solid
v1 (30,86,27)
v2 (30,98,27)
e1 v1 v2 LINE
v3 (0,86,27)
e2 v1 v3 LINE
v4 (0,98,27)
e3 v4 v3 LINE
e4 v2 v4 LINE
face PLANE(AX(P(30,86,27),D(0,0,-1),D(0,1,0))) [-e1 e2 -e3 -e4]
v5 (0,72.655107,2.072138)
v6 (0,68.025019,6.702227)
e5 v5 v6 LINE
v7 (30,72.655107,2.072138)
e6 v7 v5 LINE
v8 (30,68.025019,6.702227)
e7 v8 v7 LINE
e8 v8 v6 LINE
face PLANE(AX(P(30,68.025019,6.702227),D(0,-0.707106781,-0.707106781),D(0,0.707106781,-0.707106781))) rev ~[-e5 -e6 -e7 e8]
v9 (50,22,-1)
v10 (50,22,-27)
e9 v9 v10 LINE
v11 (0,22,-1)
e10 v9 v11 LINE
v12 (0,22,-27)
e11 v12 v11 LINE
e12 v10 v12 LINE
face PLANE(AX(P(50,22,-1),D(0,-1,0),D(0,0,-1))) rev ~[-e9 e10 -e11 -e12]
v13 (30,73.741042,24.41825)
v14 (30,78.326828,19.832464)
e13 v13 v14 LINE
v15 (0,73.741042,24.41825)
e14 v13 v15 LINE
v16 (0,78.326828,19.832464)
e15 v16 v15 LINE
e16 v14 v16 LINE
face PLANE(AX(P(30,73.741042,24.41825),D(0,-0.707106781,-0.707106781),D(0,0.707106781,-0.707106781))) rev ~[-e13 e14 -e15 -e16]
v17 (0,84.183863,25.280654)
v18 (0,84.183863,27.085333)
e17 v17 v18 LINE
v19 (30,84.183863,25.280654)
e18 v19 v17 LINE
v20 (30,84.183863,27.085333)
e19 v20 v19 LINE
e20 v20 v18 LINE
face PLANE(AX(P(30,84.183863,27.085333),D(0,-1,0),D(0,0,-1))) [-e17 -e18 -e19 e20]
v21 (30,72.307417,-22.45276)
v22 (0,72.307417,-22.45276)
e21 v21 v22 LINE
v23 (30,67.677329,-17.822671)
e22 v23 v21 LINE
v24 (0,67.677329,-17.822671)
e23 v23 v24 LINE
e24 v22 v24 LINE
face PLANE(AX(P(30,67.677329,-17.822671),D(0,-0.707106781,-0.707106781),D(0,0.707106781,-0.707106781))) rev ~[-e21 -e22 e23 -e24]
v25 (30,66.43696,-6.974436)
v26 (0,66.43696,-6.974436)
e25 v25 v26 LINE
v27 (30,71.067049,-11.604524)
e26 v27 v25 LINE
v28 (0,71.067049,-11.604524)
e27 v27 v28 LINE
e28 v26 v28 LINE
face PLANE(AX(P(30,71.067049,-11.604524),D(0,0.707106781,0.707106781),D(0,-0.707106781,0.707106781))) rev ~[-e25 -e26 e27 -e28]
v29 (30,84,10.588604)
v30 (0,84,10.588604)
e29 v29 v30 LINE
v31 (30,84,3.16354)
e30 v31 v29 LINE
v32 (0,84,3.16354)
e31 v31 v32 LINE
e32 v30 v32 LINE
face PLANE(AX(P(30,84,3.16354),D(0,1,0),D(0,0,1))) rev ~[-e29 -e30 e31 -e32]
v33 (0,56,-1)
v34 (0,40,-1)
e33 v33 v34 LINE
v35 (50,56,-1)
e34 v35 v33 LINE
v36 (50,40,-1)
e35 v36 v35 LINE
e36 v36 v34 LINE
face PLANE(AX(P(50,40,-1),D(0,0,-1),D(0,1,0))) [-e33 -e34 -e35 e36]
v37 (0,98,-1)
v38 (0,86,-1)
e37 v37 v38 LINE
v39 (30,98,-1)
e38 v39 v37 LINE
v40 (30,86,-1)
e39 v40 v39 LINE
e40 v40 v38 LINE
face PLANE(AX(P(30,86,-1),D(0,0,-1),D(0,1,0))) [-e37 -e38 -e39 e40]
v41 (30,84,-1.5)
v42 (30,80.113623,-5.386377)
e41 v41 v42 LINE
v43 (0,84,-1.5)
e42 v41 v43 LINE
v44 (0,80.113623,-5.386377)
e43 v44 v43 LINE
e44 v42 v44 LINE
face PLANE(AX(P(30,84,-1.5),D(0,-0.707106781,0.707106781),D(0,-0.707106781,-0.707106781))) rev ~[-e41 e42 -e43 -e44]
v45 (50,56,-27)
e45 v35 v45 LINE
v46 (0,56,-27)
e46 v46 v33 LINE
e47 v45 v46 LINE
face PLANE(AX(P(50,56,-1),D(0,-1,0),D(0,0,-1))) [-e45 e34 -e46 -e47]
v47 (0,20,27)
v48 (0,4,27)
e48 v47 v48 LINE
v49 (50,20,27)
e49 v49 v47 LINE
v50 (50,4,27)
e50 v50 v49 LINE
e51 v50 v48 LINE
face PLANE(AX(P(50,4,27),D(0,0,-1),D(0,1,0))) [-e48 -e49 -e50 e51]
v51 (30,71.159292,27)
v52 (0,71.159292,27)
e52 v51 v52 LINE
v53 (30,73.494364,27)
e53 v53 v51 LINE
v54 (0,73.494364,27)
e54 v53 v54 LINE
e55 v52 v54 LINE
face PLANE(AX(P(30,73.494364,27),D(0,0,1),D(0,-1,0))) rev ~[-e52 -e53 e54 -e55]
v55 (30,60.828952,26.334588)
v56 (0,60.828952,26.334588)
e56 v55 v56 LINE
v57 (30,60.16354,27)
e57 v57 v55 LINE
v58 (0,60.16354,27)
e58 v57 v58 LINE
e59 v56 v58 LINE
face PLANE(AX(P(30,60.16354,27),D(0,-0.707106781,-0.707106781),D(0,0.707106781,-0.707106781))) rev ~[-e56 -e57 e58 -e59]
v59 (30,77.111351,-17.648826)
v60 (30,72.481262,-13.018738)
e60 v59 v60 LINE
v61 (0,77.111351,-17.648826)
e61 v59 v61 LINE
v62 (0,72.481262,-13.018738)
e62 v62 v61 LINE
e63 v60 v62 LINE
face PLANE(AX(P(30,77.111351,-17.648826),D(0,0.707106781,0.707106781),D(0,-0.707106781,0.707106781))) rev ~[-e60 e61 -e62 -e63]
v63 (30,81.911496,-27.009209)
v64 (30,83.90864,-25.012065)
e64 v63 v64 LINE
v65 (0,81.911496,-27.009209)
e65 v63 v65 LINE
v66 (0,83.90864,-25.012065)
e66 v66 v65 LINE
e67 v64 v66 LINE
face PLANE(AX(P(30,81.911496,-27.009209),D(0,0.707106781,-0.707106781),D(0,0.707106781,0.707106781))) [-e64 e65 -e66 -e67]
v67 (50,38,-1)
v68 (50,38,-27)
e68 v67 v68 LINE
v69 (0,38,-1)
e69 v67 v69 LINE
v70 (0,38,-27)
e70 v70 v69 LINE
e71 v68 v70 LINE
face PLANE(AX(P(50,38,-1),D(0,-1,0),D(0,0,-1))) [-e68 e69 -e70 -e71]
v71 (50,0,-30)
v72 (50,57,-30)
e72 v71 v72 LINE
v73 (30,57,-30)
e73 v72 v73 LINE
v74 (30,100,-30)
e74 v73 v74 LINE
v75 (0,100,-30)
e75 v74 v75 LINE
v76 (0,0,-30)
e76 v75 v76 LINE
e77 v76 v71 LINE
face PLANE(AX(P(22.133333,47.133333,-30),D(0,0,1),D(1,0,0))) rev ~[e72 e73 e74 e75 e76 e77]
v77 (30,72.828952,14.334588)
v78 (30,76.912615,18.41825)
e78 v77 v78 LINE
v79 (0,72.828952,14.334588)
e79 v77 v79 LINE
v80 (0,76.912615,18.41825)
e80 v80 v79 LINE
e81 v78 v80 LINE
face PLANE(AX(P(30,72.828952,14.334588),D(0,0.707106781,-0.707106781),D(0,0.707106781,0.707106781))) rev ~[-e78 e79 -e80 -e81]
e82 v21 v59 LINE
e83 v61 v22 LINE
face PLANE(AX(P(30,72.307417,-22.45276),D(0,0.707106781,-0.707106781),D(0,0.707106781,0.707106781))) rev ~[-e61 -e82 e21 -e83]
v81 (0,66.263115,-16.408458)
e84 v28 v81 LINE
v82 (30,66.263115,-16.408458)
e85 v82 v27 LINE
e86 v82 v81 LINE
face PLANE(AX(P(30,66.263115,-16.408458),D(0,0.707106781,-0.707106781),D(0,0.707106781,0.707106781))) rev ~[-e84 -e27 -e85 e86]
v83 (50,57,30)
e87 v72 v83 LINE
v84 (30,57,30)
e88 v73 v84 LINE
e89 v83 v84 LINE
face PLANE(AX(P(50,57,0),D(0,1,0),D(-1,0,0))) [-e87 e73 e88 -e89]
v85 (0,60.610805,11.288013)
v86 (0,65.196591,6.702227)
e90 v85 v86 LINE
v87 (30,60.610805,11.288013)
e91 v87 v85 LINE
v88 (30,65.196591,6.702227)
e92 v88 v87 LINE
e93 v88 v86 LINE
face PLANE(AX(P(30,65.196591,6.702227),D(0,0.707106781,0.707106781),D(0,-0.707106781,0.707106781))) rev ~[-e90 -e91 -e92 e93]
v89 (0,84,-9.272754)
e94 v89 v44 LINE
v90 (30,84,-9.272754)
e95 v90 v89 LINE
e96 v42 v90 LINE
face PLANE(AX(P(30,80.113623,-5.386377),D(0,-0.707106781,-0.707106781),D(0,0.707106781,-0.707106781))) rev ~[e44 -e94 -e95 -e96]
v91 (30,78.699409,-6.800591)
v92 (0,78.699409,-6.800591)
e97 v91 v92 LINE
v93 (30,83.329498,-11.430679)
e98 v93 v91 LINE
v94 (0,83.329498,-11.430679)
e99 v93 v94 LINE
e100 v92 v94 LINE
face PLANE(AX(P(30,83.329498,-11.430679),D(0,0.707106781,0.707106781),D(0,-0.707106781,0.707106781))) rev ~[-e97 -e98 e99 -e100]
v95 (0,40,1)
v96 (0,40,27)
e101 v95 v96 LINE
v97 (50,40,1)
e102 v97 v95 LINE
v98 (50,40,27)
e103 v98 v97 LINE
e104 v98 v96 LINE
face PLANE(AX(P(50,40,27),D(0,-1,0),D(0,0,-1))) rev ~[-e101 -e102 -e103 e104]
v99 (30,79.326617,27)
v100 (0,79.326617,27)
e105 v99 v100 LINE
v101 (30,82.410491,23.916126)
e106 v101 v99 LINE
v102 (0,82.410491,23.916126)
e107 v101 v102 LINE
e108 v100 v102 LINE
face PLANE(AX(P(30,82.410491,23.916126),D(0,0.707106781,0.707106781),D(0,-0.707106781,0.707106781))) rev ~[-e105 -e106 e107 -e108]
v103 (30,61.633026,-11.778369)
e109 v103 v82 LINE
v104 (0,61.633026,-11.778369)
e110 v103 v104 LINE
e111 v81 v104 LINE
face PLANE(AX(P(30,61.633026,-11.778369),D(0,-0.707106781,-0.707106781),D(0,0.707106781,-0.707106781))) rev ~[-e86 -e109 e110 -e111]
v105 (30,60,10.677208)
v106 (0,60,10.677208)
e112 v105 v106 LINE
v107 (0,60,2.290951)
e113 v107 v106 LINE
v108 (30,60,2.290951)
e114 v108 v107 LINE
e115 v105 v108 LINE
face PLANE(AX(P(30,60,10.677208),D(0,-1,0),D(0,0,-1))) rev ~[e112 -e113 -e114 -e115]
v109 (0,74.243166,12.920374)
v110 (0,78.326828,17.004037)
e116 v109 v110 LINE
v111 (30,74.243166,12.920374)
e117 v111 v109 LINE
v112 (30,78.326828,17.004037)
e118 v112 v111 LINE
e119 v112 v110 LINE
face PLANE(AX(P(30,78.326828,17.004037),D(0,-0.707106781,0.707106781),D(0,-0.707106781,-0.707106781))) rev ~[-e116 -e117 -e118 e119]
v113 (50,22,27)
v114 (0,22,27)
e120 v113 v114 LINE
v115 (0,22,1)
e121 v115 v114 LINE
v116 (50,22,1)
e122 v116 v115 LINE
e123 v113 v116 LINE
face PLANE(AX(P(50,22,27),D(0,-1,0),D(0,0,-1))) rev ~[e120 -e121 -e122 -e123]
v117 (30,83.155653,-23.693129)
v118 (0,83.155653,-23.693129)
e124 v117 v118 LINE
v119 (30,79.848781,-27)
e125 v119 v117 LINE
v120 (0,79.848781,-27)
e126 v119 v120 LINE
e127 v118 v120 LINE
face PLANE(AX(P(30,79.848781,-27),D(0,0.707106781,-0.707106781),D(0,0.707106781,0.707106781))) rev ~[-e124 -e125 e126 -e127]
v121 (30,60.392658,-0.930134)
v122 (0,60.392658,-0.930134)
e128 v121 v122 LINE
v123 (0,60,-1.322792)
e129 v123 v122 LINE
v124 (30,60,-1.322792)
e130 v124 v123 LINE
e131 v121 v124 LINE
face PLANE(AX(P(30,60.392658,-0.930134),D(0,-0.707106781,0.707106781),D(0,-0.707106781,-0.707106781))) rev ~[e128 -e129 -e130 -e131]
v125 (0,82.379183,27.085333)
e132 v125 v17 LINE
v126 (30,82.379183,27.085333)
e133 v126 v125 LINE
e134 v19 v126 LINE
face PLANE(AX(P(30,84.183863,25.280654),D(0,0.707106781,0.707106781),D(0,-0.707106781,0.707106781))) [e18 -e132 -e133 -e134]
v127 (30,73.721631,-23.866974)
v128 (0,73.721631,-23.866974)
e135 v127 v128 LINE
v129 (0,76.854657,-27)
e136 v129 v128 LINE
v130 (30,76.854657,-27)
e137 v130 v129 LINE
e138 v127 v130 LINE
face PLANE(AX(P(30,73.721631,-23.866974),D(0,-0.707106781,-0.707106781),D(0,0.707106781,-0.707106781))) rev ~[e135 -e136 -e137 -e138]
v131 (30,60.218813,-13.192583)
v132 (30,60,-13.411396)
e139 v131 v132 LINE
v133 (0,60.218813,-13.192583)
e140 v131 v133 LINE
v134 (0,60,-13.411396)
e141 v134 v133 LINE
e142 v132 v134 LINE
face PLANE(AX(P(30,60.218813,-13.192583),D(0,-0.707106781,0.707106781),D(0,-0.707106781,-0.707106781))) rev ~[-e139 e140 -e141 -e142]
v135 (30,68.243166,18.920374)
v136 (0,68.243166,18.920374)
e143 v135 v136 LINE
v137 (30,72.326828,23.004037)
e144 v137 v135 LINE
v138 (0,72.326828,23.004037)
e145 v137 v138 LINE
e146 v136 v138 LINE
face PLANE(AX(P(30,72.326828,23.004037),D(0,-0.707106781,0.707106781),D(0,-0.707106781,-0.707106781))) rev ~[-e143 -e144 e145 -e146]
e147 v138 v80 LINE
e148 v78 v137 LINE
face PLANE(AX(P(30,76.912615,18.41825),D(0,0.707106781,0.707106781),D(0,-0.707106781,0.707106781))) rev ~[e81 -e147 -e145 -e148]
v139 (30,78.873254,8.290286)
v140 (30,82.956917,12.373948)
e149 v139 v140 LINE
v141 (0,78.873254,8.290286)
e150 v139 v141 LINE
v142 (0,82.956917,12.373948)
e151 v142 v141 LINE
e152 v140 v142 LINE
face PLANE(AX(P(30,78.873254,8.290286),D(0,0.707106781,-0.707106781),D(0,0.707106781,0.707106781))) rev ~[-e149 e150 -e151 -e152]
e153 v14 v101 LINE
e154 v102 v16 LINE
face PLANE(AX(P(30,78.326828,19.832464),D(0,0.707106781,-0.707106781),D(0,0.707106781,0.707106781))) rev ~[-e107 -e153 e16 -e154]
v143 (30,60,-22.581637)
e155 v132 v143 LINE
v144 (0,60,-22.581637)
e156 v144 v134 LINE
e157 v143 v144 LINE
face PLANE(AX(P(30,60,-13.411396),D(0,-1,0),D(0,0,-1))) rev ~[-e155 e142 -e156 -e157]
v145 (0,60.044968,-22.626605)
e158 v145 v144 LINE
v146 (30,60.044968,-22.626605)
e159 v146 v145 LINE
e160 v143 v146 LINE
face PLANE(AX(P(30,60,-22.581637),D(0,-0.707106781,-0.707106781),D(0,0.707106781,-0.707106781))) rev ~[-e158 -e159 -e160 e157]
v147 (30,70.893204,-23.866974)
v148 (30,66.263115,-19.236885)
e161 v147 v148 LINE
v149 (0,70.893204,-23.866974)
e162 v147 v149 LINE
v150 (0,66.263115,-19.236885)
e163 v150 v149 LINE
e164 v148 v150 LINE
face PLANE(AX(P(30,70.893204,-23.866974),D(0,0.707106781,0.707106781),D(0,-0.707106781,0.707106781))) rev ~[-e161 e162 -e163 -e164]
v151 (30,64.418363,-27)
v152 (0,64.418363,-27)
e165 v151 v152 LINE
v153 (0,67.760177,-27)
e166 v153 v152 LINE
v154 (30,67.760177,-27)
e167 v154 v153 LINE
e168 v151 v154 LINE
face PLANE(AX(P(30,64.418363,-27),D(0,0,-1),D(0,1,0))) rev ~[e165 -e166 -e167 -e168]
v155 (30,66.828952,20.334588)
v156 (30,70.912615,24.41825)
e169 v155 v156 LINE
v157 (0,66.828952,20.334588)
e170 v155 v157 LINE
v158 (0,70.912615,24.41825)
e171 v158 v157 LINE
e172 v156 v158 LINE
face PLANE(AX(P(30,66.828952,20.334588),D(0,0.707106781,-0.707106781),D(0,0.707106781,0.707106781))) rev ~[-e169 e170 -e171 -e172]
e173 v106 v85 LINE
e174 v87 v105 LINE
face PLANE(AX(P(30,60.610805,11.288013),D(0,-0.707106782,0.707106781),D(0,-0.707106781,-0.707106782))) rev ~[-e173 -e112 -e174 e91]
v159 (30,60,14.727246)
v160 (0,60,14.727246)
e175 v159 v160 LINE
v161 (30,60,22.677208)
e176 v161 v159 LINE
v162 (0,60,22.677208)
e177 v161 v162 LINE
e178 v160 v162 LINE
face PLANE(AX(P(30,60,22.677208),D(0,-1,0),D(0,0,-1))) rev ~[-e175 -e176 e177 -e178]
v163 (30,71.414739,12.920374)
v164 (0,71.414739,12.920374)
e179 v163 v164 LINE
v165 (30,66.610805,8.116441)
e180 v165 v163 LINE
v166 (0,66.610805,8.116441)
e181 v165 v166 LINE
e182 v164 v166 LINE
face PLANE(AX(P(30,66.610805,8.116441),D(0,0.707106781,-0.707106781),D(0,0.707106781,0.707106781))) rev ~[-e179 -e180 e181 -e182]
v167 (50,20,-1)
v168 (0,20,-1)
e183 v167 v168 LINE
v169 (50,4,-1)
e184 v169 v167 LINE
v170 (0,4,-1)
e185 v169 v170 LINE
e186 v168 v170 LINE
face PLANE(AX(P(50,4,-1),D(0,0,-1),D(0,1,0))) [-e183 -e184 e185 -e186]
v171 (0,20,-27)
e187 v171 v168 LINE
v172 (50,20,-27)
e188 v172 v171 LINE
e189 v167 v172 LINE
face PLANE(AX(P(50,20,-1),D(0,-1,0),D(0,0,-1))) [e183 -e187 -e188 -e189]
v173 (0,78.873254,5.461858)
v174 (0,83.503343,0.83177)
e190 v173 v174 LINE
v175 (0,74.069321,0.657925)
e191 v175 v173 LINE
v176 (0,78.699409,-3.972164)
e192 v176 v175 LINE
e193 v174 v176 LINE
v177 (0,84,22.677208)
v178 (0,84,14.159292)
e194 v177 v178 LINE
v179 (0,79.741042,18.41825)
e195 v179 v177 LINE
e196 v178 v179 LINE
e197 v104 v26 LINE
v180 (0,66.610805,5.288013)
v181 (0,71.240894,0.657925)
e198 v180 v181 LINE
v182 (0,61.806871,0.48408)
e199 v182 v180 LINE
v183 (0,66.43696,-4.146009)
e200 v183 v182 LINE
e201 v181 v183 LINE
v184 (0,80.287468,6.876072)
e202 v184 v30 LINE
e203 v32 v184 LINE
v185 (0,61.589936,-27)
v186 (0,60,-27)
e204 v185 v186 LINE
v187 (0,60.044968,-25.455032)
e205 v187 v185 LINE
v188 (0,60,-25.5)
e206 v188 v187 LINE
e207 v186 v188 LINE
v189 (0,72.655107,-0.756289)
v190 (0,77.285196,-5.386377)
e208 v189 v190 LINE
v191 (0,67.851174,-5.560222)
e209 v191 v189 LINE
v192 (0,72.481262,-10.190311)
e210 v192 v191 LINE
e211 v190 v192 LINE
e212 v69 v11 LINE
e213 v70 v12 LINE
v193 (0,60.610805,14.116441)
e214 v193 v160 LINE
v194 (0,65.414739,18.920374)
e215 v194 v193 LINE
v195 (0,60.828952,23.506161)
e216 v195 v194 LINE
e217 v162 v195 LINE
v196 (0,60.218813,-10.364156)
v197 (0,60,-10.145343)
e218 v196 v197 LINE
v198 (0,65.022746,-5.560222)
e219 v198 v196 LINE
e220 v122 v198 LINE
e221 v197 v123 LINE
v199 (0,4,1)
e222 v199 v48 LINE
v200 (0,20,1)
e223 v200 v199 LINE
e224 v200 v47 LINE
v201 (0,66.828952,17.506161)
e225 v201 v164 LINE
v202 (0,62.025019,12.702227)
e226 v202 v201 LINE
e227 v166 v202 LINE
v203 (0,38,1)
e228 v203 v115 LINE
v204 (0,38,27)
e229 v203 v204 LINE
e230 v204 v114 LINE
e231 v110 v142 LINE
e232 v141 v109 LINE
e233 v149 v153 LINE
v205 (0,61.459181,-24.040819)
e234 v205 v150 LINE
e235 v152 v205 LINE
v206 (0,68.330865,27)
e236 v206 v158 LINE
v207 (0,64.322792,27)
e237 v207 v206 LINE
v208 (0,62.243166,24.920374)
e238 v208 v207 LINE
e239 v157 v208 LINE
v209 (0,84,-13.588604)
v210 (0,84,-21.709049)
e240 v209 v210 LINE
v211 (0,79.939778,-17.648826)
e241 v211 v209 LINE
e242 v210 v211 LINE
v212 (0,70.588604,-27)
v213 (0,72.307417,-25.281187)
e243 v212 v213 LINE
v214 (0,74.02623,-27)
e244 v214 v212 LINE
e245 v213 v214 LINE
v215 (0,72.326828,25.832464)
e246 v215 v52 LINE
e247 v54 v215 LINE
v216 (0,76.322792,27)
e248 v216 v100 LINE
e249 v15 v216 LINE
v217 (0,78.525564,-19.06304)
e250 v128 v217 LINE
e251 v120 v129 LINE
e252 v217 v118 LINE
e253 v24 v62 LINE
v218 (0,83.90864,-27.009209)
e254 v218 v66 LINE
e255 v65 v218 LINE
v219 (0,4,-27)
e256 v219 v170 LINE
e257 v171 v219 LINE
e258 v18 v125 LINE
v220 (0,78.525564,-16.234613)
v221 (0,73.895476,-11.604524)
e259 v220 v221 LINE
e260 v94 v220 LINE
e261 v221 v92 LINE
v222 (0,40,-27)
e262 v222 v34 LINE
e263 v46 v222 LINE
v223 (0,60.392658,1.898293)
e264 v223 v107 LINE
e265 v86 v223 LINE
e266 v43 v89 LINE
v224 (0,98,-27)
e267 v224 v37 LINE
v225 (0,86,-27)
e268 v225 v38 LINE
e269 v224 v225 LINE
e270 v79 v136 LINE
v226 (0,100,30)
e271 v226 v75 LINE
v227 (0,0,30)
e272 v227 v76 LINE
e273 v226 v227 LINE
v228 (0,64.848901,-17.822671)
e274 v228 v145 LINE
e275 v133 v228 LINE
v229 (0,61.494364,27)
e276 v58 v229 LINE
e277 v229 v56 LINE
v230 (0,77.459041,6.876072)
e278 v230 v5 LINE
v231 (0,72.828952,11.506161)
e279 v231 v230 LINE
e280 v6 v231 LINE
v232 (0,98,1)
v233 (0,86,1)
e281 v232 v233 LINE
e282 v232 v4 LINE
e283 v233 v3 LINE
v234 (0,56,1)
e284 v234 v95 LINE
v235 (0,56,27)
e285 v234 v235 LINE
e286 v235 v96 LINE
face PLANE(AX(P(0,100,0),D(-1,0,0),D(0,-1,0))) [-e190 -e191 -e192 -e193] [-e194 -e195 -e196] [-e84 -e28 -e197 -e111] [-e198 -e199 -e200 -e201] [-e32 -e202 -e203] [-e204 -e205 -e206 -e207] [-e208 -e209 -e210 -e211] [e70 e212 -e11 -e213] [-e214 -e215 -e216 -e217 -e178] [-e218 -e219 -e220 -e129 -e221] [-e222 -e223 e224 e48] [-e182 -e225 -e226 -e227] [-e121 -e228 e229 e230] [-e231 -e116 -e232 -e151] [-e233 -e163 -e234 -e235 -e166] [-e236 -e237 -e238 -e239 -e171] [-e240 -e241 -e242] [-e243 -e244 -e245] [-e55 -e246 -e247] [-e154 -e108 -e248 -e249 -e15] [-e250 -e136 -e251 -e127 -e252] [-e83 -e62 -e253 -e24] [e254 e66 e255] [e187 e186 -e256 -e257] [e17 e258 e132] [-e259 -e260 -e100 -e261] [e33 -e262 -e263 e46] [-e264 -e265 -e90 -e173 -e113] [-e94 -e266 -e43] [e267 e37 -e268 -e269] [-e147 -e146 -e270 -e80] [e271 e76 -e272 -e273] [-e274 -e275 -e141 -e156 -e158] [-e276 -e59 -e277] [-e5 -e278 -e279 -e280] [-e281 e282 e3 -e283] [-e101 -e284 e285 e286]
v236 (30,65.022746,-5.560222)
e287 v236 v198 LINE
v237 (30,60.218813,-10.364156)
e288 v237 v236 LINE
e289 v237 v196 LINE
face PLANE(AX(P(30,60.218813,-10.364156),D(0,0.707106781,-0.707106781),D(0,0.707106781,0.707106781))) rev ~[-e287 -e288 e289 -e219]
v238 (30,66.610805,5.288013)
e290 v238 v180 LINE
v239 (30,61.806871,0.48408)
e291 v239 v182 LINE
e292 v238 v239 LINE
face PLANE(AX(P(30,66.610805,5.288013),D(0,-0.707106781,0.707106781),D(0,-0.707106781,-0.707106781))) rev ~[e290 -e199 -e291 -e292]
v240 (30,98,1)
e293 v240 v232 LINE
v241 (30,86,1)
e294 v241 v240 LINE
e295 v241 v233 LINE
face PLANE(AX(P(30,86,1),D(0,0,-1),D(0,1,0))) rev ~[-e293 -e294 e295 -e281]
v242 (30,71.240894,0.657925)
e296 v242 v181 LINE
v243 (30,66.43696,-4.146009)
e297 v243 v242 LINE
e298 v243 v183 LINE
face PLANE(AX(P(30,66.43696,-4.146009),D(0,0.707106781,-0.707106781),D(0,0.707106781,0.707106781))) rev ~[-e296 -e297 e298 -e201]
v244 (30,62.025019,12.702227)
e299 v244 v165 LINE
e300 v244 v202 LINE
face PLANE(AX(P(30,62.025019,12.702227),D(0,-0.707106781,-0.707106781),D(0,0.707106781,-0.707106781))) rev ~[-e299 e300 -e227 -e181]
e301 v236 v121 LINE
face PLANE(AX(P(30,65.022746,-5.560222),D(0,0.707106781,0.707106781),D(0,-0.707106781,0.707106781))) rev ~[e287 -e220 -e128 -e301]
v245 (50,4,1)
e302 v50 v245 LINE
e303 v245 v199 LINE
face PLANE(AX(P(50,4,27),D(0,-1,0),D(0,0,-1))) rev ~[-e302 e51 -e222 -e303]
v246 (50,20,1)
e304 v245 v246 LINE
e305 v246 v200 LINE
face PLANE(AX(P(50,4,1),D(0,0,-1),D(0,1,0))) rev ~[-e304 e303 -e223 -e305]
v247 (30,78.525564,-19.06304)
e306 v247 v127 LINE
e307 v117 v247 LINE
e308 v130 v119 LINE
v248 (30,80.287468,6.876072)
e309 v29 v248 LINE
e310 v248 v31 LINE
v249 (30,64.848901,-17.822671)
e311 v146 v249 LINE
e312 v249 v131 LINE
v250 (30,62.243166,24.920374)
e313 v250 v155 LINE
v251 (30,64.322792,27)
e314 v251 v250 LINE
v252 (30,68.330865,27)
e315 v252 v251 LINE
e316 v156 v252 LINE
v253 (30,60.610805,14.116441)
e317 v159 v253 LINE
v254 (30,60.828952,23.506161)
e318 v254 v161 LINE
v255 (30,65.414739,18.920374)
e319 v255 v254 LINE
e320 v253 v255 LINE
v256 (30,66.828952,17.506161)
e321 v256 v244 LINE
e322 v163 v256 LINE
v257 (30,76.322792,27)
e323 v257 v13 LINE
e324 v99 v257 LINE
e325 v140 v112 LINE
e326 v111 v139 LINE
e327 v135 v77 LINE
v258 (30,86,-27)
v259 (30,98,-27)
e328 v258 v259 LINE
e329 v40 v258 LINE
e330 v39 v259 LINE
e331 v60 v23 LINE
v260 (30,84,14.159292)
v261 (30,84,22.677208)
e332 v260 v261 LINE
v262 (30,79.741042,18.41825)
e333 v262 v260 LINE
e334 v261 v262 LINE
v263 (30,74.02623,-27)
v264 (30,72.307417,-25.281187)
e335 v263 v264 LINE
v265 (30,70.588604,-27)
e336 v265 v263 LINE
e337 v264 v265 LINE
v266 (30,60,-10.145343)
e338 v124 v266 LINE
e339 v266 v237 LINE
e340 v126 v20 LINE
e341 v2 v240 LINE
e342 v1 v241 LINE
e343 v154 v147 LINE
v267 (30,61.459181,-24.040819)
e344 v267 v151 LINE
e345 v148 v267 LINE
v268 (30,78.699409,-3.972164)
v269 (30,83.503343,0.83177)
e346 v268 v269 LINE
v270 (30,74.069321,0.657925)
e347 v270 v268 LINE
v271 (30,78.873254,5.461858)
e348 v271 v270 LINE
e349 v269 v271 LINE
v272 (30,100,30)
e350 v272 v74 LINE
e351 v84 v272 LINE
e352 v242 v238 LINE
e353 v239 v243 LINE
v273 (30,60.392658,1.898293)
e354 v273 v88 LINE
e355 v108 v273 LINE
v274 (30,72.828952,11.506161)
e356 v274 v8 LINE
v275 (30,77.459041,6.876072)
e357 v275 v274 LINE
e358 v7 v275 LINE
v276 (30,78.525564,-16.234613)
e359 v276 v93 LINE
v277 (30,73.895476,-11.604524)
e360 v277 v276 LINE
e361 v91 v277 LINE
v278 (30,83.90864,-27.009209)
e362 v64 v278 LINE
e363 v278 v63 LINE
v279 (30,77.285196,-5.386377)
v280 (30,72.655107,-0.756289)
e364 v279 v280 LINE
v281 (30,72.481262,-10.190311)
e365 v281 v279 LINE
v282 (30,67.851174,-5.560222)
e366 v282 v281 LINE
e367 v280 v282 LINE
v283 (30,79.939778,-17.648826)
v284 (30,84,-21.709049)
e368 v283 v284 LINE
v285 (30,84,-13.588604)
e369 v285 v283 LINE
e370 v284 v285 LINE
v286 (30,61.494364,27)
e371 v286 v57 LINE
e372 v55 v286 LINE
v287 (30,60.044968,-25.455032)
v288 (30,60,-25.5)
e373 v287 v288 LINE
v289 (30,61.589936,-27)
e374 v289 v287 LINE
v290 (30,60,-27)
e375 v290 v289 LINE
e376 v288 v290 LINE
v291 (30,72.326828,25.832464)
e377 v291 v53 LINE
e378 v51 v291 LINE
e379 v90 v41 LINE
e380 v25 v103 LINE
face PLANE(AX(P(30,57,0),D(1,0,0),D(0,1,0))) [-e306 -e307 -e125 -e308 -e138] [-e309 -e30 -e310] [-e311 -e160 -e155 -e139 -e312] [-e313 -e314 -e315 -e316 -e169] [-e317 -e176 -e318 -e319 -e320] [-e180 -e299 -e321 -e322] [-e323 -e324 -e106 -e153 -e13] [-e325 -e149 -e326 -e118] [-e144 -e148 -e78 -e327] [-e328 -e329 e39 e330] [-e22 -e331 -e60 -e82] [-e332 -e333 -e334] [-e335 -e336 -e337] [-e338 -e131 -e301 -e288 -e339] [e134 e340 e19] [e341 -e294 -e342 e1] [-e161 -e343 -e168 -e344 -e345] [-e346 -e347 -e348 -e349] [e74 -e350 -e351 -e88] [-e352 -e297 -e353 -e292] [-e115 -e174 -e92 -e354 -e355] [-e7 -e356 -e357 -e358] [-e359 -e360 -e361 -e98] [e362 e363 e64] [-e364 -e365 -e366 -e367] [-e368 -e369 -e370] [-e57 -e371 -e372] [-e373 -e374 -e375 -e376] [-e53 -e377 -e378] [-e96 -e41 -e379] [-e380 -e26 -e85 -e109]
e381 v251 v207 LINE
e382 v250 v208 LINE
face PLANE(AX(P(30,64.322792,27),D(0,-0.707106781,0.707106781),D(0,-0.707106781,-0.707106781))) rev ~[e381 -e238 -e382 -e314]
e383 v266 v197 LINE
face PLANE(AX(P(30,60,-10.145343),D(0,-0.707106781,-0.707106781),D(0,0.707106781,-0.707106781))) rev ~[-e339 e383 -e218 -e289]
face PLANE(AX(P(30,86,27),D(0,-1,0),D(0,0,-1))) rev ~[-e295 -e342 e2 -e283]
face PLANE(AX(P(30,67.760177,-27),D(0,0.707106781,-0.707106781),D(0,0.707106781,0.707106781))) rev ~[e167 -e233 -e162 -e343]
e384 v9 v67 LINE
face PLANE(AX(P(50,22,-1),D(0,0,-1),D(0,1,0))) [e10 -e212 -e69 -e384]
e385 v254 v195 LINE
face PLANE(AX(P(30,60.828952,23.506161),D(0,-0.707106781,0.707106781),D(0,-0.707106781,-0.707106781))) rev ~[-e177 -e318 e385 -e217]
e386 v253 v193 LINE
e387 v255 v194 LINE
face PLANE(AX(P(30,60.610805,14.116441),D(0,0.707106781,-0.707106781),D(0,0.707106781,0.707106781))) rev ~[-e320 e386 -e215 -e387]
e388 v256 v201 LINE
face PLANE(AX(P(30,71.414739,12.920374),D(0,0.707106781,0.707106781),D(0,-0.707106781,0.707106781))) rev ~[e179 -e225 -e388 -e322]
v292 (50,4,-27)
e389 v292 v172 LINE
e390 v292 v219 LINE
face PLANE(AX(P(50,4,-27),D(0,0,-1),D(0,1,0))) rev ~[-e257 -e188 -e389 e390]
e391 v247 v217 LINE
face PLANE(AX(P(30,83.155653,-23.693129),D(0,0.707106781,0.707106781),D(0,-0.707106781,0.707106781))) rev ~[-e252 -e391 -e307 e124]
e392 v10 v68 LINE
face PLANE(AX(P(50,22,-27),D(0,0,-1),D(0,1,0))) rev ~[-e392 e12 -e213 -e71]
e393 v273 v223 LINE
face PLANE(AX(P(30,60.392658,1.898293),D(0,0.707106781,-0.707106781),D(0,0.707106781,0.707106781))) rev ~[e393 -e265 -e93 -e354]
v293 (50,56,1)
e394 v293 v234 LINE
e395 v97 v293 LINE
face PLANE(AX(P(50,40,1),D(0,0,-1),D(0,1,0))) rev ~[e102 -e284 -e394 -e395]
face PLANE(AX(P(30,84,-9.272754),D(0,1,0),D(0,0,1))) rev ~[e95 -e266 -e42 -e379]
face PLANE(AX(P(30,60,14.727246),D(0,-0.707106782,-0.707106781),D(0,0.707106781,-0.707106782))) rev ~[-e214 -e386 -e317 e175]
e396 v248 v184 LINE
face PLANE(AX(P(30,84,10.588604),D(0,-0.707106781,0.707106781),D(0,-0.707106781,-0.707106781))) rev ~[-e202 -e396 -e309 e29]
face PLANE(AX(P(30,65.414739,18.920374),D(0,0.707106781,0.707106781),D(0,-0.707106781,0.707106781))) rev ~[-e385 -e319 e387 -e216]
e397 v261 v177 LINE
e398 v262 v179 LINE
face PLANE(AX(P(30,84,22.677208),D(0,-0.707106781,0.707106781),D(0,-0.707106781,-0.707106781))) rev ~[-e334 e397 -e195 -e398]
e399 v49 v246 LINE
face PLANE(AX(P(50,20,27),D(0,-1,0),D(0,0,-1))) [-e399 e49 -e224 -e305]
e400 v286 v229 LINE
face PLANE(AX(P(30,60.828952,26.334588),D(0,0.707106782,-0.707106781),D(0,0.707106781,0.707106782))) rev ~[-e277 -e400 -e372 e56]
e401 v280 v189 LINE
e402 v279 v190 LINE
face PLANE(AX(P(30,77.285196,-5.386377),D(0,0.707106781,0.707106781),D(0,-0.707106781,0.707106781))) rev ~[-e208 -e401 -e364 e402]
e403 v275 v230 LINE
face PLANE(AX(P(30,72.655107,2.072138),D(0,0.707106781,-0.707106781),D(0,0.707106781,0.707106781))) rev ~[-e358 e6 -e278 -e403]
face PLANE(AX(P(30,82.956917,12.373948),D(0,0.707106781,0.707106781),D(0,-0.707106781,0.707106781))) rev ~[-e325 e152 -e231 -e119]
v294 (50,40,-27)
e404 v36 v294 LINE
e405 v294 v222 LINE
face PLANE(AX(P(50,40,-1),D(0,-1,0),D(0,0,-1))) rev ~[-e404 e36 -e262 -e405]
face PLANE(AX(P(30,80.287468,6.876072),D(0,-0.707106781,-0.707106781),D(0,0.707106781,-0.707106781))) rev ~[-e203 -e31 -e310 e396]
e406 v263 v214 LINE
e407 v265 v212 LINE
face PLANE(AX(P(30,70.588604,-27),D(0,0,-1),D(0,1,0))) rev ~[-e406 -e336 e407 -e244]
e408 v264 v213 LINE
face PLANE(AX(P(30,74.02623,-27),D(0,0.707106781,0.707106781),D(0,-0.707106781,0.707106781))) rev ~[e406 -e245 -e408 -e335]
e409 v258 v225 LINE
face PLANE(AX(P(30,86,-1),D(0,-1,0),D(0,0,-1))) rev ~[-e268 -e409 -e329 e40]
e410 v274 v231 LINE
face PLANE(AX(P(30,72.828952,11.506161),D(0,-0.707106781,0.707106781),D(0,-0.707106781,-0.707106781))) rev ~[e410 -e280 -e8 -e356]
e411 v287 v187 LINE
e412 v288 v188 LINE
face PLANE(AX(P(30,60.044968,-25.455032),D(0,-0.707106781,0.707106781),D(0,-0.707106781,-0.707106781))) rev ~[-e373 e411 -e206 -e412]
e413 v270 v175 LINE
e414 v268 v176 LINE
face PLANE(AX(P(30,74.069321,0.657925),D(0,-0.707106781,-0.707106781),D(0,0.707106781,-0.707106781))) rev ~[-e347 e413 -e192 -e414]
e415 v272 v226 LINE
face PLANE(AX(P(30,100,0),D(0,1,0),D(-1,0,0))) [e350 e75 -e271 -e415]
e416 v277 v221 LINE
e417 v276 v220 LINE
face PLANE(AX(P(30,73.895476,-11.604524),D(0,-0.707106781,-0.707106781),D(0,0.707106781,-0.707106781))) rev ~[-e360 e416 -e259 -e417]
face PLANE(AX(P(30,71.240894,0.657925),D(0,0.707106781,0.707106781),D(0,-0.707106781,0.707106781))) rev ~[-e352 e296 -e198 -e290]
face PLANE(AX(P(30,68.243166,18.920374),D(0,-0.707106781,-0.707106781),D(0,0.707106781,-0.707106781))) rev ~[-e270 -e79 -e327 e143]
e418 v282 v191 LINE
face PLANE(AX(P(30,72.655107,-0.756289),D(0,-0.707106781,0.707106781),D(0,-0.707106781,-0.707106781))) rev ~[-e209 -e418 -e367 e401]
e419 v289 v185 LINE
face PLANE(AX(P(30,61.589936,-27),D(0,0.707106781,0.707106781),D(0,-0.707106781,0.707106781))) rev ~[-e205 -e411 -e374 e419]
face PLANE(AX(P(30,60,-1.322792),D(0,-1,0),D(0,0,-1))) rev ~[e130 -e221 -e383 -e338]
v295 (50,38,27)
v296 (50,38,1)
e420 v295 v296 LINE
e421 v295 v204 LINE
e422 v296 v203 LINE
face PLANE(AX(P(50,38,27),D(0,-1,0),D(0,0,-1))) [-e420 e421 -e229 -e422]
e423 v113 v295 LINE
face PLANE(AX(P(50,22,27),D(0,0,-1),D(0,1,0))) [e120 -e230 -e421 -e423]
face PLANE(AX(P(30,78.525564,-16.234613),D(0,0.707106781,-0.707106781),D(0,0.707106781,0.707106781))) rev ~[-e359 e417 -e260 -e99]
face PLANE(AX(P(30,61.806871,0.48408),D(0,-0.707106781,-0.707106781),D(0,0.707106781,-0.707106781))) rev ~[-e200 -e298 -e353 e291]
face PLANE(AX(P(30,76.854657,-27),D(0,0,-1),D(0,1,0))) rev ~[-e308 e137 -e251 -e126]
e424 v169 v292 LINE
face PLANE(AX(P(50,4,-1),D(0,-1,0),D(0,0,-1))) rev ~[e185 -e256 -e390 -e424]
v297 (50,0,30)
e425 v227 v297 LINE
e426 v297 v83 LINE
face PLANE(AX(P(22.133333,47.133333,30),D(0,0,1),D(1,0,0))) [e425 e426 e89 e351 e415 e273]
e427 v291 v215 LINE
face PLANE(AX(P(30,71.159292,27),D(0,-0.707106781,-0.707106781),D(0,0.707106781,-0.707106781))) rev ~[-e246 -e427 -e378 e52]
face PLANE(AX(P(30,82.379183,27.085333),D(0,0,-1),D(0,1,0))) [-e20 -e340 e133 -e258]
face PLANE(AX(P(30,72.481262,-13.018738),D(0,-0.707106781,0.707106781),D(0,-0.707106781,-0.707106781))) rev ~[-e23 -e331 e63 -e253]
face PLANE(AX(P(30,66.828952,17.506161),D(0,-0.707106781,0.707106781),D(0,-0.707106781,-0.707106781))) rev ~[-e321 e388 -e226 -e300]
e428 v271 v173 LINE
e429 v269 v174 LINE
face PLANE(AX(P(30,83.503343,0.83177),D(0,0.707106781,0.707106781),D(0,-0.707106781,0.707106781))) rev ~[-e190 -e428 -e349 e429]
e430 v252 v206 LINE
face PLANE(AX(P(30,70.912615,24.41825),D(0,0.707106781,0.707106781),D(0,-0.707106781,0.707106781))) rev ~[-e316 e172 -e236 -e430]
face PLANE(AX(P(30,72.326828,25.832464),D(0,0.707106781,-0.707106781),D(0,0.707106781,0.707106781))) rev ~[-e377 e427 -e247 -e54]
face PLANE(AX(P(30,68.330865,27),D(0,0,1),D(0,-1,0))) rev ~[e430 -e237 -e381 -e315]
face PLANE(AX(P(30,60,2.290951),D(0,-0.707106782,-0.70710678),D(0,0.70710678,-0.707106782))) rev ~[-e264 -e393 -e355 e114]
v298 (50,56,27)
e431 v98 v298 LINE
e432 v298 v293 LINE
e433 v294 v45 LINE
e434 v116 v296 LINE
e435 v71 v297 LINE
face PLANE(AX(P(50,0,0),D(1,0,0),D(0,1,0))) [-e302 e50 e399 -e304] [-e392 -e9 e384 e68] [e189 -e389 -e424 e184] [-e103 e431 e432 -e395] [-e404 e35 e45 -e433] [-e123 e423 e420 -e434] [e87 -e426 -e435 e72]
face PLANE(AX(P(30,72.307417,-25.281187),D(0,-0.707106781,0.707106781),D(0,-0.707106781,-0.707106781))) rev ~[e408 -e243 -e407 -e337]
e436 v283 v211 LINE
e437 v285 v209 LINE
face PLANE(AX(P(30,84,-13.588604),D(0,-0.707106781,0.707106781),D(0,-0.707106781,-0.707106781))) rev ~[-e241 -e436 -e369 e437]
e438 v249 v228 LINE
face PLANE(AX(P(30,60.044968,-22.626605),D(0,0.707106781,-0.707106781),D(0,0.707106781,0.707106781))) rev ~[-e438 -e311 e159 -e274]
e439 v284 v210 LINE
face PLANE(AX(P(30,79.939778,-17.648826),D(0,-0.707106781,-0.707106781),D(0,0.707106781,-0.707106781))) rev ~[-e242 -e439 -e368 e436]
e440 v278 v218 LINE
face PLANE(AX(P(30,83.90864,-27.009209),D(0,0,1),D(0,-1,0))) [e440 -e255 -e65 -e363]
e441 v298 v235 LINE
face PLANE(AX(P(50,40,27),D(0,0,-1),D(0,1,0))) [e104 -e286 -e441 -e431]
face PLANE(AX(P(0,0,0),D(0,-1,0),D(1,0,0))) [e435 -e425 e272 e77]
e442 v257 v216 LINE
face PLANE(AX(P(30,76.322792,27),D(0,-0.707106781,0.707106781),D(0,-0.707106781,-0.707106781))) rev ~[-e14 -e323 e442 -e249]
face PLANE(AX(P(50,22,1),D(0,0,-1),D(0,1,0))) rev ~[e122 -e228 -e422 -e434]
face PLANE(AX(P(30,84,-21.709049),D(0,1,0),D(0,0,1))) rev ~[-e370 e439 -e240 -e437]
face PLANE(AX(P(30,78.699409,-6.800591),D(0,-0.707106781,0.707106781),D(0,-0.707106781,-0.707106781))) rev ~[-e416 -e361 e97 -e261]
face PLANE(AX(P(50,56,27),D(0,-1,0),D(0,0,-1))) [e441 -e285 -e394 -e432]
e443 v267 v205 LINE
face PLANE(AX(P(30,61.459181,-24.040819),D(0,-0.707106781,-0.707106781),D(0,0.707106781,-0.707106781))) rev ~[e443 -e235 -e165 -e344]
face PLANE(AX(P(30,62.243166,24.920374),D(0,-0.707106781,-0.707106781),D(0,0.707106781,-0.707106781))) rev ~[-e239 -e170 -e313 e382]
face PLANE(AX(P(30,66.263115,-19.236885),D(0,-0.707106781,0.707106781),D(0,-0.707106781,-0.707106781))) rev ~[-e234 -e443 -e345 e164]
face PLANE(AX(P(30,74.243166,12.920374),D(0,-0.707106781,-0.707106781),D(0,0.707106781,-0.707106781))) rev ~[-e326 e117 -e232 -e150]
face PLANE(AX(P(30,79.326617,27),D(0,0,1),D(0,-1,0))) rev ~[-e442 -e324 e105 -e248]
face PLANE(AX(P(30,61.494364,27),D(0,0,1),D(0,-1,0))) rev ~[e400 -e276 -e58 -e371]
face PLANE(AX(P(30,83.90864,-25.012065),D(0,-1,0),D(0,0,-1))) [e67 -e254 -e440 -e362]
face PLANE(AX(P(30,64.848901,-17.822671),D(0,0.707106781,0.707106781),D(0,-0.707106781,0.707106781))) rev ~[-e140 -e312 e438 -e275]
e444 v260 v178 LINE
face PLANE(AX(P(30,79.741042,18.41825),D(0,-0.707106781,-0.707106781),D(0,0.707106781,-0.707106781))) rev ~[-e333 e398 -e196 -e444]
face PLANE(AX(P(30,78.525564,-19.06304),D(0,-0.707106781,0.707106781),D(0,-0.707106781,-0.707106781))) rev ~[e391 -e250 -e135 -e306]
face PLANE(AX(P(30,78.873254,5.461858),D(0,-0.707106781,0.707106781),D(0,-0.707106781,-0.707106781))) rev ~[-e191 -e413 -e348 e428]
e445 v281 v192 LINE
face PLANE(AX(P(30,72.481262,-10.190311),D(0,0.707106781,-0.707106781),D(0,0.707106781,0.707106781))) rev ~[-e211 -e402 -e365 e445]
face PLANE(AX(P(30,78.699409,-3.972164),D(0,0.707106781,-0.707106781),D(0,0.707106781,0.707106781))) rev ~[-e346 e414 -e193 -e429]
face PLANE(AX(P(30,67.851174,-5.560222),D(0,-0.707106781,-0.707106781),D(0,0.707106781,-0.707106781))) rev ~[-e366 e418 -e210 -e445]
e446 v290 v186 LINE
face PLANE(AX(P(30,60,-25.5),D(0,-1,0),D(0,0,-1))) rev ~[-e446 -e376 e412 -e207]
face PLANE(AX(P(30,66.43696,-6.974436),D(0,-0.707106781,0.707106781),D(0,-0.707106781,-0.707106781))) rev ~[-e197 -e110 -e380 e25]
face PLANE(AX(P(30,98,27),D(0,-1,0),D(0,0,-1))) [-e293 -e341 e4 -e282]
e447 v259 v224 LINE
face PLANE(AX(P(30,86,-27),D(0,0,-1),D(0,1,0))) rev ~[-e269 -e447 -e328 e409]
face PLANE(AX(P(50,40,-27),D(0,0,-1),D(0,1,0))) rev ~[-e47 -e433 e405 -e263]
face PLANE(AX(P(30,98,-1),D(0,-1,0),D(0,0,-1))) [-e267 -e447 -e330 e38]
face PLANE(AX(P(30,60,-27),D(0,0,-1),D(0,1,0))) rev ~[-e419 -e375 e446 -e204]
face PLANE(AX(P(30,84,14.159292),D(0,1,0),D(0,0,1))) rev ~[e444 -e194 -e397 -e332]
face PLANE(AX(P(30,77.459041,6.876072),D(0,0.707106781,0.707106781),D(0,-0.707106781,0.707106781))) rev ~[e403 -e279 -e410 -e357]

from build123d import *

# Parameters (mm, degrees)
SALIENTE_EXTRUIR1_DEPTH = 30
CROQUIS2_W              = 26
CROQUIS2_H              = 16
CORTAR_EXTRUIR1_DEPTH   = 51
CROQUIS3_W              = 26
CROQUIS3_H              = 12
CORTAR_EXTRUIR2_DEPTH   = 31
CORTAR_EXTRUIR4_DEPTH   = 31
CORTAR_EXTRUIR5_DEPTH   = 31
CORTAR_EXTRUIR6_DEPTH   = 31


with BuildPart() as part:
    # Croquis1 → Saliente-Extruir1 (new body, symmetric)
    with BuildSketch(Plane.XY):
        Polygon((0, 0), (50, 0), (50, 57), (30, 57), (30, 100), (0, 100), align=None)
    extrude(amount=SALIENTE_EXTRUIR1_DEPTH, both=True)

    # Croquis2 → Cortar-Extruir1 (cut, through all)
    with BuildSketch(Plane(origin=(50, 0, 0), x_dir=(0, 0, -1), z_dir=(1, 0, 0))):
        with Locations((-14, 48)):
            Rectangle(CROQUIS2_W, CROQUIS2_H)
        with Locations((14, 48)):
            Rectangle(CROQUIS2_W, CROQUIS2_H)
        with Locations((-14, 30)):
            Rectangle(CROQUIS2_W, CROQUIS2_H)
        with Locations((14, 30)):
            Rectangle(CROQUIS2_W, CROQUIS2_H)
        with Locations((-14, 12)):
            Rectangle(CROQUIS2_W, CROQUIS2_H)
        with Locations((14, 12)):
            Rectangle(CROQUIS2_W, CROQUIS2_H)
    extrude(amount=-CORTAR_EXTRUIR1_DEPTH, mode=Mode.SUBTRACT)

    # Croquis3 → Cortar-Extruir2 (cut, through all)
    with BuildSketch(Plane(origin=(30, 0, 0), x_dir=(0, 0, -1), z_dir=(1, 0, 0))):
        with Locations((-14, 92)):
            Rectangle(CROQUIS3_W, CROQUIS3_H)
        with Locations((14, 92)):
            Rectangle(CROQUIS3_W, CROQUIS3_H)
    extrude(amount=-CORTAR_EXTRUIR2_DEPTH, mode=Mode.SUBTRACT)

    # Croquis4 → Cortar-Extruir4 (cut, through all)
    with BuildSketch(Plane(origin=(30, 0, 0), x_dir=(0, 0, -1), z_dir=(1, 0, 0))):
        Polygon((-23.506160606, 60.828952145), (-22.677208461, 60), (-14.727245643, 60), (-14.116440614, 60.610805028), (-14.166440614, 60.660805028), (-14.216440614, 60.710805028), (-18.920374168, 65.414738582), align=None)
        Polygon((-12.920374168, 71.414738582), (-17.506160606, 66.828952145), (-12.702227052, 62.025018591), (-8.116440614, 66.610805028), align=None)
        Polygon((-6.876072053, 77.459040697), (-11.506160606, 72.828952145), (-6.702227052, 68.025018591), (-2.072138499, 72.655107144), align=None)
        Polygon((-0.831769938, 83.503342813), (-5.46185849, 78.87325426), (-0.657924937, 74.069320706), (3.972163616, 78.699409259), align=None)
        Polygon((1.5, 84), (5.386377179, 80.113622821), (9.272754357, 84), align=None)
        Polygon((-14.159291936, 84), (-22.677208461, 84), (-18.418250198, 79.741041737), align=None)
        Polygon((-10.588604231, 84), (-6.876072053, 80.287467822), (-3.163539875, 84), align=None)
        Polygon((-17.004036636, 78.326828175), (-12.920374168, 74.243165707), (-8.290285615, 78.87325426), (-12.373948083, 82.956916728), align=None)
        Polygon((-23.004036636, 72.326828175), (-18.920374168, 68.243165707), (-14.33458773, 72.828952145), (-18.418250198, 76.912614613), align=None)
        Polygon((-27, 64.322791539), (-24.920374168, 62.243165707), (-20.33458773, 66.828952145), (-24.418250198, 70.912614613), (-27, 68.330864811), align=None)
        Polygon((-27, 61.494364414), (-27, 60.263539875), (-27, 60.163539875), (-26.33458773, 60.828952145), align=None)
        Polygon((27, 67.760177106), (23.866973526, 70.89320358), (19.236884973, 66.263115027), (24.040818527, 61.459181473), (27, 64.418362946), align=None)
        Polygon((13.588604231, 84), (17.64882641, 79.939777821), (21.709048589, 84), align=None)
        Polygon((11.430679294, 83.329497812), (6.800590741, 78.699409259), (11.604524295, 73.895475705), (16.234612848, 78.525564258), align=None)
        Polygon((5.386377179, 77.285195697), (0.756288626, 72.655107144), (5.560222179, 67.85117359), (10.190310732, 72.481262143), align=None)
        Polygon((-0.657924937, 71.240893581), (-5.28801349, 66.610805028), (-0.484079936, 61.806871475), (4.146008617, 66.436960028), align=None)
        Polygon((-1.948293498, 60.442657912), (-1.998293498, 60.492657912), (-6.702227052, 65.196591466), (-11.28801349, 60.610805028), (-10.677208461, 60), (-2.290951411, 60), (-1.898293498, 60.392657912), align=None)
        Polygon((27, 79.848781336), (23.693128525, 83.155652811), (19.063039972, 78.525564258), (23.866973526, 73.721630704), (27, 76.854657178), align=None)
        Polygon((10.364155733, 60.218812911), (10.314155733, 60.268812911), (5.560222179, 65.022746465), (0.930133627, 60.392657912), (1.322791539, 60), (10.145342822, 60), align=None)
        Polygon((17.64882641, 77.111350696), (13.018737857, 72.481262143), (17.822671411, 67.677328589), (22.452759964, 72.307417142), align=None)
        Polygon((11.604524295, 71.067048581), (6.974435742, 66.436960028), (11.778369296, 61.633026474), (16.408457848, 66.263115027), align=None)
        Polygon((-27, 79.326616872), (-27, 76.322791539), (-24.418250198, 73.741041737), (-19.832463761, 78.326828175), (-23.916126229, 82.410490643), align=None)
        Polygon((22.581637054, 60), (22.626604965, 60.044967911), (17.822671411, 64.848901464), (13.192582858, 60.218812911), (13.411395769, 60), align=None)
        Polygon((-27, 71.159291936), (-25.832463761, 72.326828175), (-27, 73.494364414), align=None)
        Polygon((27, 74.026230054), (25.281187089, 72.307417142), (27, 70.588604231), align=None)
        Polygon((27, 61.589935821), (25.455032089, 60.044967911), (25.5, 60), (27, 60), align=None)
    extrude(amount=-CORTAR_EXTRUIR4_DEPTH, mode=Mode.SUBTRACT)

    # Croquis5 → Cortar-Extruir5 (cut, through all)
    with BuildSketch(Plane(origin=(30, 0, 0), x_dir=(0, 0, -1), z_dir=(1, 0, 0))):
        Polygon((-27.085333176, 82.379183427), (-27.085333176, 84.183862587), (-25.280654015, 84.183862587), align=None)
    extrude(amount=-CORTAR_EXTRUIR5_DEPTH, mode=Mode.SUBTRACT)

    # Croquis6 → Cortar-Extruir6 (cut, through all)
    with BuildSketch(Plane(origin=(30, 0, 0), x_dir=(0, 0, -1), z_dir=(1, 0, 0))):
        Polygon((27.009208932, 83.908640009), (27.009208932, 81.911495936), (25.012064859, 83.908640009), align=None)
    extrude(amount=-CORTAR_EXTRUIR6_DEPTH, mode=Mode.SUBTRACT)


solid = part.part
